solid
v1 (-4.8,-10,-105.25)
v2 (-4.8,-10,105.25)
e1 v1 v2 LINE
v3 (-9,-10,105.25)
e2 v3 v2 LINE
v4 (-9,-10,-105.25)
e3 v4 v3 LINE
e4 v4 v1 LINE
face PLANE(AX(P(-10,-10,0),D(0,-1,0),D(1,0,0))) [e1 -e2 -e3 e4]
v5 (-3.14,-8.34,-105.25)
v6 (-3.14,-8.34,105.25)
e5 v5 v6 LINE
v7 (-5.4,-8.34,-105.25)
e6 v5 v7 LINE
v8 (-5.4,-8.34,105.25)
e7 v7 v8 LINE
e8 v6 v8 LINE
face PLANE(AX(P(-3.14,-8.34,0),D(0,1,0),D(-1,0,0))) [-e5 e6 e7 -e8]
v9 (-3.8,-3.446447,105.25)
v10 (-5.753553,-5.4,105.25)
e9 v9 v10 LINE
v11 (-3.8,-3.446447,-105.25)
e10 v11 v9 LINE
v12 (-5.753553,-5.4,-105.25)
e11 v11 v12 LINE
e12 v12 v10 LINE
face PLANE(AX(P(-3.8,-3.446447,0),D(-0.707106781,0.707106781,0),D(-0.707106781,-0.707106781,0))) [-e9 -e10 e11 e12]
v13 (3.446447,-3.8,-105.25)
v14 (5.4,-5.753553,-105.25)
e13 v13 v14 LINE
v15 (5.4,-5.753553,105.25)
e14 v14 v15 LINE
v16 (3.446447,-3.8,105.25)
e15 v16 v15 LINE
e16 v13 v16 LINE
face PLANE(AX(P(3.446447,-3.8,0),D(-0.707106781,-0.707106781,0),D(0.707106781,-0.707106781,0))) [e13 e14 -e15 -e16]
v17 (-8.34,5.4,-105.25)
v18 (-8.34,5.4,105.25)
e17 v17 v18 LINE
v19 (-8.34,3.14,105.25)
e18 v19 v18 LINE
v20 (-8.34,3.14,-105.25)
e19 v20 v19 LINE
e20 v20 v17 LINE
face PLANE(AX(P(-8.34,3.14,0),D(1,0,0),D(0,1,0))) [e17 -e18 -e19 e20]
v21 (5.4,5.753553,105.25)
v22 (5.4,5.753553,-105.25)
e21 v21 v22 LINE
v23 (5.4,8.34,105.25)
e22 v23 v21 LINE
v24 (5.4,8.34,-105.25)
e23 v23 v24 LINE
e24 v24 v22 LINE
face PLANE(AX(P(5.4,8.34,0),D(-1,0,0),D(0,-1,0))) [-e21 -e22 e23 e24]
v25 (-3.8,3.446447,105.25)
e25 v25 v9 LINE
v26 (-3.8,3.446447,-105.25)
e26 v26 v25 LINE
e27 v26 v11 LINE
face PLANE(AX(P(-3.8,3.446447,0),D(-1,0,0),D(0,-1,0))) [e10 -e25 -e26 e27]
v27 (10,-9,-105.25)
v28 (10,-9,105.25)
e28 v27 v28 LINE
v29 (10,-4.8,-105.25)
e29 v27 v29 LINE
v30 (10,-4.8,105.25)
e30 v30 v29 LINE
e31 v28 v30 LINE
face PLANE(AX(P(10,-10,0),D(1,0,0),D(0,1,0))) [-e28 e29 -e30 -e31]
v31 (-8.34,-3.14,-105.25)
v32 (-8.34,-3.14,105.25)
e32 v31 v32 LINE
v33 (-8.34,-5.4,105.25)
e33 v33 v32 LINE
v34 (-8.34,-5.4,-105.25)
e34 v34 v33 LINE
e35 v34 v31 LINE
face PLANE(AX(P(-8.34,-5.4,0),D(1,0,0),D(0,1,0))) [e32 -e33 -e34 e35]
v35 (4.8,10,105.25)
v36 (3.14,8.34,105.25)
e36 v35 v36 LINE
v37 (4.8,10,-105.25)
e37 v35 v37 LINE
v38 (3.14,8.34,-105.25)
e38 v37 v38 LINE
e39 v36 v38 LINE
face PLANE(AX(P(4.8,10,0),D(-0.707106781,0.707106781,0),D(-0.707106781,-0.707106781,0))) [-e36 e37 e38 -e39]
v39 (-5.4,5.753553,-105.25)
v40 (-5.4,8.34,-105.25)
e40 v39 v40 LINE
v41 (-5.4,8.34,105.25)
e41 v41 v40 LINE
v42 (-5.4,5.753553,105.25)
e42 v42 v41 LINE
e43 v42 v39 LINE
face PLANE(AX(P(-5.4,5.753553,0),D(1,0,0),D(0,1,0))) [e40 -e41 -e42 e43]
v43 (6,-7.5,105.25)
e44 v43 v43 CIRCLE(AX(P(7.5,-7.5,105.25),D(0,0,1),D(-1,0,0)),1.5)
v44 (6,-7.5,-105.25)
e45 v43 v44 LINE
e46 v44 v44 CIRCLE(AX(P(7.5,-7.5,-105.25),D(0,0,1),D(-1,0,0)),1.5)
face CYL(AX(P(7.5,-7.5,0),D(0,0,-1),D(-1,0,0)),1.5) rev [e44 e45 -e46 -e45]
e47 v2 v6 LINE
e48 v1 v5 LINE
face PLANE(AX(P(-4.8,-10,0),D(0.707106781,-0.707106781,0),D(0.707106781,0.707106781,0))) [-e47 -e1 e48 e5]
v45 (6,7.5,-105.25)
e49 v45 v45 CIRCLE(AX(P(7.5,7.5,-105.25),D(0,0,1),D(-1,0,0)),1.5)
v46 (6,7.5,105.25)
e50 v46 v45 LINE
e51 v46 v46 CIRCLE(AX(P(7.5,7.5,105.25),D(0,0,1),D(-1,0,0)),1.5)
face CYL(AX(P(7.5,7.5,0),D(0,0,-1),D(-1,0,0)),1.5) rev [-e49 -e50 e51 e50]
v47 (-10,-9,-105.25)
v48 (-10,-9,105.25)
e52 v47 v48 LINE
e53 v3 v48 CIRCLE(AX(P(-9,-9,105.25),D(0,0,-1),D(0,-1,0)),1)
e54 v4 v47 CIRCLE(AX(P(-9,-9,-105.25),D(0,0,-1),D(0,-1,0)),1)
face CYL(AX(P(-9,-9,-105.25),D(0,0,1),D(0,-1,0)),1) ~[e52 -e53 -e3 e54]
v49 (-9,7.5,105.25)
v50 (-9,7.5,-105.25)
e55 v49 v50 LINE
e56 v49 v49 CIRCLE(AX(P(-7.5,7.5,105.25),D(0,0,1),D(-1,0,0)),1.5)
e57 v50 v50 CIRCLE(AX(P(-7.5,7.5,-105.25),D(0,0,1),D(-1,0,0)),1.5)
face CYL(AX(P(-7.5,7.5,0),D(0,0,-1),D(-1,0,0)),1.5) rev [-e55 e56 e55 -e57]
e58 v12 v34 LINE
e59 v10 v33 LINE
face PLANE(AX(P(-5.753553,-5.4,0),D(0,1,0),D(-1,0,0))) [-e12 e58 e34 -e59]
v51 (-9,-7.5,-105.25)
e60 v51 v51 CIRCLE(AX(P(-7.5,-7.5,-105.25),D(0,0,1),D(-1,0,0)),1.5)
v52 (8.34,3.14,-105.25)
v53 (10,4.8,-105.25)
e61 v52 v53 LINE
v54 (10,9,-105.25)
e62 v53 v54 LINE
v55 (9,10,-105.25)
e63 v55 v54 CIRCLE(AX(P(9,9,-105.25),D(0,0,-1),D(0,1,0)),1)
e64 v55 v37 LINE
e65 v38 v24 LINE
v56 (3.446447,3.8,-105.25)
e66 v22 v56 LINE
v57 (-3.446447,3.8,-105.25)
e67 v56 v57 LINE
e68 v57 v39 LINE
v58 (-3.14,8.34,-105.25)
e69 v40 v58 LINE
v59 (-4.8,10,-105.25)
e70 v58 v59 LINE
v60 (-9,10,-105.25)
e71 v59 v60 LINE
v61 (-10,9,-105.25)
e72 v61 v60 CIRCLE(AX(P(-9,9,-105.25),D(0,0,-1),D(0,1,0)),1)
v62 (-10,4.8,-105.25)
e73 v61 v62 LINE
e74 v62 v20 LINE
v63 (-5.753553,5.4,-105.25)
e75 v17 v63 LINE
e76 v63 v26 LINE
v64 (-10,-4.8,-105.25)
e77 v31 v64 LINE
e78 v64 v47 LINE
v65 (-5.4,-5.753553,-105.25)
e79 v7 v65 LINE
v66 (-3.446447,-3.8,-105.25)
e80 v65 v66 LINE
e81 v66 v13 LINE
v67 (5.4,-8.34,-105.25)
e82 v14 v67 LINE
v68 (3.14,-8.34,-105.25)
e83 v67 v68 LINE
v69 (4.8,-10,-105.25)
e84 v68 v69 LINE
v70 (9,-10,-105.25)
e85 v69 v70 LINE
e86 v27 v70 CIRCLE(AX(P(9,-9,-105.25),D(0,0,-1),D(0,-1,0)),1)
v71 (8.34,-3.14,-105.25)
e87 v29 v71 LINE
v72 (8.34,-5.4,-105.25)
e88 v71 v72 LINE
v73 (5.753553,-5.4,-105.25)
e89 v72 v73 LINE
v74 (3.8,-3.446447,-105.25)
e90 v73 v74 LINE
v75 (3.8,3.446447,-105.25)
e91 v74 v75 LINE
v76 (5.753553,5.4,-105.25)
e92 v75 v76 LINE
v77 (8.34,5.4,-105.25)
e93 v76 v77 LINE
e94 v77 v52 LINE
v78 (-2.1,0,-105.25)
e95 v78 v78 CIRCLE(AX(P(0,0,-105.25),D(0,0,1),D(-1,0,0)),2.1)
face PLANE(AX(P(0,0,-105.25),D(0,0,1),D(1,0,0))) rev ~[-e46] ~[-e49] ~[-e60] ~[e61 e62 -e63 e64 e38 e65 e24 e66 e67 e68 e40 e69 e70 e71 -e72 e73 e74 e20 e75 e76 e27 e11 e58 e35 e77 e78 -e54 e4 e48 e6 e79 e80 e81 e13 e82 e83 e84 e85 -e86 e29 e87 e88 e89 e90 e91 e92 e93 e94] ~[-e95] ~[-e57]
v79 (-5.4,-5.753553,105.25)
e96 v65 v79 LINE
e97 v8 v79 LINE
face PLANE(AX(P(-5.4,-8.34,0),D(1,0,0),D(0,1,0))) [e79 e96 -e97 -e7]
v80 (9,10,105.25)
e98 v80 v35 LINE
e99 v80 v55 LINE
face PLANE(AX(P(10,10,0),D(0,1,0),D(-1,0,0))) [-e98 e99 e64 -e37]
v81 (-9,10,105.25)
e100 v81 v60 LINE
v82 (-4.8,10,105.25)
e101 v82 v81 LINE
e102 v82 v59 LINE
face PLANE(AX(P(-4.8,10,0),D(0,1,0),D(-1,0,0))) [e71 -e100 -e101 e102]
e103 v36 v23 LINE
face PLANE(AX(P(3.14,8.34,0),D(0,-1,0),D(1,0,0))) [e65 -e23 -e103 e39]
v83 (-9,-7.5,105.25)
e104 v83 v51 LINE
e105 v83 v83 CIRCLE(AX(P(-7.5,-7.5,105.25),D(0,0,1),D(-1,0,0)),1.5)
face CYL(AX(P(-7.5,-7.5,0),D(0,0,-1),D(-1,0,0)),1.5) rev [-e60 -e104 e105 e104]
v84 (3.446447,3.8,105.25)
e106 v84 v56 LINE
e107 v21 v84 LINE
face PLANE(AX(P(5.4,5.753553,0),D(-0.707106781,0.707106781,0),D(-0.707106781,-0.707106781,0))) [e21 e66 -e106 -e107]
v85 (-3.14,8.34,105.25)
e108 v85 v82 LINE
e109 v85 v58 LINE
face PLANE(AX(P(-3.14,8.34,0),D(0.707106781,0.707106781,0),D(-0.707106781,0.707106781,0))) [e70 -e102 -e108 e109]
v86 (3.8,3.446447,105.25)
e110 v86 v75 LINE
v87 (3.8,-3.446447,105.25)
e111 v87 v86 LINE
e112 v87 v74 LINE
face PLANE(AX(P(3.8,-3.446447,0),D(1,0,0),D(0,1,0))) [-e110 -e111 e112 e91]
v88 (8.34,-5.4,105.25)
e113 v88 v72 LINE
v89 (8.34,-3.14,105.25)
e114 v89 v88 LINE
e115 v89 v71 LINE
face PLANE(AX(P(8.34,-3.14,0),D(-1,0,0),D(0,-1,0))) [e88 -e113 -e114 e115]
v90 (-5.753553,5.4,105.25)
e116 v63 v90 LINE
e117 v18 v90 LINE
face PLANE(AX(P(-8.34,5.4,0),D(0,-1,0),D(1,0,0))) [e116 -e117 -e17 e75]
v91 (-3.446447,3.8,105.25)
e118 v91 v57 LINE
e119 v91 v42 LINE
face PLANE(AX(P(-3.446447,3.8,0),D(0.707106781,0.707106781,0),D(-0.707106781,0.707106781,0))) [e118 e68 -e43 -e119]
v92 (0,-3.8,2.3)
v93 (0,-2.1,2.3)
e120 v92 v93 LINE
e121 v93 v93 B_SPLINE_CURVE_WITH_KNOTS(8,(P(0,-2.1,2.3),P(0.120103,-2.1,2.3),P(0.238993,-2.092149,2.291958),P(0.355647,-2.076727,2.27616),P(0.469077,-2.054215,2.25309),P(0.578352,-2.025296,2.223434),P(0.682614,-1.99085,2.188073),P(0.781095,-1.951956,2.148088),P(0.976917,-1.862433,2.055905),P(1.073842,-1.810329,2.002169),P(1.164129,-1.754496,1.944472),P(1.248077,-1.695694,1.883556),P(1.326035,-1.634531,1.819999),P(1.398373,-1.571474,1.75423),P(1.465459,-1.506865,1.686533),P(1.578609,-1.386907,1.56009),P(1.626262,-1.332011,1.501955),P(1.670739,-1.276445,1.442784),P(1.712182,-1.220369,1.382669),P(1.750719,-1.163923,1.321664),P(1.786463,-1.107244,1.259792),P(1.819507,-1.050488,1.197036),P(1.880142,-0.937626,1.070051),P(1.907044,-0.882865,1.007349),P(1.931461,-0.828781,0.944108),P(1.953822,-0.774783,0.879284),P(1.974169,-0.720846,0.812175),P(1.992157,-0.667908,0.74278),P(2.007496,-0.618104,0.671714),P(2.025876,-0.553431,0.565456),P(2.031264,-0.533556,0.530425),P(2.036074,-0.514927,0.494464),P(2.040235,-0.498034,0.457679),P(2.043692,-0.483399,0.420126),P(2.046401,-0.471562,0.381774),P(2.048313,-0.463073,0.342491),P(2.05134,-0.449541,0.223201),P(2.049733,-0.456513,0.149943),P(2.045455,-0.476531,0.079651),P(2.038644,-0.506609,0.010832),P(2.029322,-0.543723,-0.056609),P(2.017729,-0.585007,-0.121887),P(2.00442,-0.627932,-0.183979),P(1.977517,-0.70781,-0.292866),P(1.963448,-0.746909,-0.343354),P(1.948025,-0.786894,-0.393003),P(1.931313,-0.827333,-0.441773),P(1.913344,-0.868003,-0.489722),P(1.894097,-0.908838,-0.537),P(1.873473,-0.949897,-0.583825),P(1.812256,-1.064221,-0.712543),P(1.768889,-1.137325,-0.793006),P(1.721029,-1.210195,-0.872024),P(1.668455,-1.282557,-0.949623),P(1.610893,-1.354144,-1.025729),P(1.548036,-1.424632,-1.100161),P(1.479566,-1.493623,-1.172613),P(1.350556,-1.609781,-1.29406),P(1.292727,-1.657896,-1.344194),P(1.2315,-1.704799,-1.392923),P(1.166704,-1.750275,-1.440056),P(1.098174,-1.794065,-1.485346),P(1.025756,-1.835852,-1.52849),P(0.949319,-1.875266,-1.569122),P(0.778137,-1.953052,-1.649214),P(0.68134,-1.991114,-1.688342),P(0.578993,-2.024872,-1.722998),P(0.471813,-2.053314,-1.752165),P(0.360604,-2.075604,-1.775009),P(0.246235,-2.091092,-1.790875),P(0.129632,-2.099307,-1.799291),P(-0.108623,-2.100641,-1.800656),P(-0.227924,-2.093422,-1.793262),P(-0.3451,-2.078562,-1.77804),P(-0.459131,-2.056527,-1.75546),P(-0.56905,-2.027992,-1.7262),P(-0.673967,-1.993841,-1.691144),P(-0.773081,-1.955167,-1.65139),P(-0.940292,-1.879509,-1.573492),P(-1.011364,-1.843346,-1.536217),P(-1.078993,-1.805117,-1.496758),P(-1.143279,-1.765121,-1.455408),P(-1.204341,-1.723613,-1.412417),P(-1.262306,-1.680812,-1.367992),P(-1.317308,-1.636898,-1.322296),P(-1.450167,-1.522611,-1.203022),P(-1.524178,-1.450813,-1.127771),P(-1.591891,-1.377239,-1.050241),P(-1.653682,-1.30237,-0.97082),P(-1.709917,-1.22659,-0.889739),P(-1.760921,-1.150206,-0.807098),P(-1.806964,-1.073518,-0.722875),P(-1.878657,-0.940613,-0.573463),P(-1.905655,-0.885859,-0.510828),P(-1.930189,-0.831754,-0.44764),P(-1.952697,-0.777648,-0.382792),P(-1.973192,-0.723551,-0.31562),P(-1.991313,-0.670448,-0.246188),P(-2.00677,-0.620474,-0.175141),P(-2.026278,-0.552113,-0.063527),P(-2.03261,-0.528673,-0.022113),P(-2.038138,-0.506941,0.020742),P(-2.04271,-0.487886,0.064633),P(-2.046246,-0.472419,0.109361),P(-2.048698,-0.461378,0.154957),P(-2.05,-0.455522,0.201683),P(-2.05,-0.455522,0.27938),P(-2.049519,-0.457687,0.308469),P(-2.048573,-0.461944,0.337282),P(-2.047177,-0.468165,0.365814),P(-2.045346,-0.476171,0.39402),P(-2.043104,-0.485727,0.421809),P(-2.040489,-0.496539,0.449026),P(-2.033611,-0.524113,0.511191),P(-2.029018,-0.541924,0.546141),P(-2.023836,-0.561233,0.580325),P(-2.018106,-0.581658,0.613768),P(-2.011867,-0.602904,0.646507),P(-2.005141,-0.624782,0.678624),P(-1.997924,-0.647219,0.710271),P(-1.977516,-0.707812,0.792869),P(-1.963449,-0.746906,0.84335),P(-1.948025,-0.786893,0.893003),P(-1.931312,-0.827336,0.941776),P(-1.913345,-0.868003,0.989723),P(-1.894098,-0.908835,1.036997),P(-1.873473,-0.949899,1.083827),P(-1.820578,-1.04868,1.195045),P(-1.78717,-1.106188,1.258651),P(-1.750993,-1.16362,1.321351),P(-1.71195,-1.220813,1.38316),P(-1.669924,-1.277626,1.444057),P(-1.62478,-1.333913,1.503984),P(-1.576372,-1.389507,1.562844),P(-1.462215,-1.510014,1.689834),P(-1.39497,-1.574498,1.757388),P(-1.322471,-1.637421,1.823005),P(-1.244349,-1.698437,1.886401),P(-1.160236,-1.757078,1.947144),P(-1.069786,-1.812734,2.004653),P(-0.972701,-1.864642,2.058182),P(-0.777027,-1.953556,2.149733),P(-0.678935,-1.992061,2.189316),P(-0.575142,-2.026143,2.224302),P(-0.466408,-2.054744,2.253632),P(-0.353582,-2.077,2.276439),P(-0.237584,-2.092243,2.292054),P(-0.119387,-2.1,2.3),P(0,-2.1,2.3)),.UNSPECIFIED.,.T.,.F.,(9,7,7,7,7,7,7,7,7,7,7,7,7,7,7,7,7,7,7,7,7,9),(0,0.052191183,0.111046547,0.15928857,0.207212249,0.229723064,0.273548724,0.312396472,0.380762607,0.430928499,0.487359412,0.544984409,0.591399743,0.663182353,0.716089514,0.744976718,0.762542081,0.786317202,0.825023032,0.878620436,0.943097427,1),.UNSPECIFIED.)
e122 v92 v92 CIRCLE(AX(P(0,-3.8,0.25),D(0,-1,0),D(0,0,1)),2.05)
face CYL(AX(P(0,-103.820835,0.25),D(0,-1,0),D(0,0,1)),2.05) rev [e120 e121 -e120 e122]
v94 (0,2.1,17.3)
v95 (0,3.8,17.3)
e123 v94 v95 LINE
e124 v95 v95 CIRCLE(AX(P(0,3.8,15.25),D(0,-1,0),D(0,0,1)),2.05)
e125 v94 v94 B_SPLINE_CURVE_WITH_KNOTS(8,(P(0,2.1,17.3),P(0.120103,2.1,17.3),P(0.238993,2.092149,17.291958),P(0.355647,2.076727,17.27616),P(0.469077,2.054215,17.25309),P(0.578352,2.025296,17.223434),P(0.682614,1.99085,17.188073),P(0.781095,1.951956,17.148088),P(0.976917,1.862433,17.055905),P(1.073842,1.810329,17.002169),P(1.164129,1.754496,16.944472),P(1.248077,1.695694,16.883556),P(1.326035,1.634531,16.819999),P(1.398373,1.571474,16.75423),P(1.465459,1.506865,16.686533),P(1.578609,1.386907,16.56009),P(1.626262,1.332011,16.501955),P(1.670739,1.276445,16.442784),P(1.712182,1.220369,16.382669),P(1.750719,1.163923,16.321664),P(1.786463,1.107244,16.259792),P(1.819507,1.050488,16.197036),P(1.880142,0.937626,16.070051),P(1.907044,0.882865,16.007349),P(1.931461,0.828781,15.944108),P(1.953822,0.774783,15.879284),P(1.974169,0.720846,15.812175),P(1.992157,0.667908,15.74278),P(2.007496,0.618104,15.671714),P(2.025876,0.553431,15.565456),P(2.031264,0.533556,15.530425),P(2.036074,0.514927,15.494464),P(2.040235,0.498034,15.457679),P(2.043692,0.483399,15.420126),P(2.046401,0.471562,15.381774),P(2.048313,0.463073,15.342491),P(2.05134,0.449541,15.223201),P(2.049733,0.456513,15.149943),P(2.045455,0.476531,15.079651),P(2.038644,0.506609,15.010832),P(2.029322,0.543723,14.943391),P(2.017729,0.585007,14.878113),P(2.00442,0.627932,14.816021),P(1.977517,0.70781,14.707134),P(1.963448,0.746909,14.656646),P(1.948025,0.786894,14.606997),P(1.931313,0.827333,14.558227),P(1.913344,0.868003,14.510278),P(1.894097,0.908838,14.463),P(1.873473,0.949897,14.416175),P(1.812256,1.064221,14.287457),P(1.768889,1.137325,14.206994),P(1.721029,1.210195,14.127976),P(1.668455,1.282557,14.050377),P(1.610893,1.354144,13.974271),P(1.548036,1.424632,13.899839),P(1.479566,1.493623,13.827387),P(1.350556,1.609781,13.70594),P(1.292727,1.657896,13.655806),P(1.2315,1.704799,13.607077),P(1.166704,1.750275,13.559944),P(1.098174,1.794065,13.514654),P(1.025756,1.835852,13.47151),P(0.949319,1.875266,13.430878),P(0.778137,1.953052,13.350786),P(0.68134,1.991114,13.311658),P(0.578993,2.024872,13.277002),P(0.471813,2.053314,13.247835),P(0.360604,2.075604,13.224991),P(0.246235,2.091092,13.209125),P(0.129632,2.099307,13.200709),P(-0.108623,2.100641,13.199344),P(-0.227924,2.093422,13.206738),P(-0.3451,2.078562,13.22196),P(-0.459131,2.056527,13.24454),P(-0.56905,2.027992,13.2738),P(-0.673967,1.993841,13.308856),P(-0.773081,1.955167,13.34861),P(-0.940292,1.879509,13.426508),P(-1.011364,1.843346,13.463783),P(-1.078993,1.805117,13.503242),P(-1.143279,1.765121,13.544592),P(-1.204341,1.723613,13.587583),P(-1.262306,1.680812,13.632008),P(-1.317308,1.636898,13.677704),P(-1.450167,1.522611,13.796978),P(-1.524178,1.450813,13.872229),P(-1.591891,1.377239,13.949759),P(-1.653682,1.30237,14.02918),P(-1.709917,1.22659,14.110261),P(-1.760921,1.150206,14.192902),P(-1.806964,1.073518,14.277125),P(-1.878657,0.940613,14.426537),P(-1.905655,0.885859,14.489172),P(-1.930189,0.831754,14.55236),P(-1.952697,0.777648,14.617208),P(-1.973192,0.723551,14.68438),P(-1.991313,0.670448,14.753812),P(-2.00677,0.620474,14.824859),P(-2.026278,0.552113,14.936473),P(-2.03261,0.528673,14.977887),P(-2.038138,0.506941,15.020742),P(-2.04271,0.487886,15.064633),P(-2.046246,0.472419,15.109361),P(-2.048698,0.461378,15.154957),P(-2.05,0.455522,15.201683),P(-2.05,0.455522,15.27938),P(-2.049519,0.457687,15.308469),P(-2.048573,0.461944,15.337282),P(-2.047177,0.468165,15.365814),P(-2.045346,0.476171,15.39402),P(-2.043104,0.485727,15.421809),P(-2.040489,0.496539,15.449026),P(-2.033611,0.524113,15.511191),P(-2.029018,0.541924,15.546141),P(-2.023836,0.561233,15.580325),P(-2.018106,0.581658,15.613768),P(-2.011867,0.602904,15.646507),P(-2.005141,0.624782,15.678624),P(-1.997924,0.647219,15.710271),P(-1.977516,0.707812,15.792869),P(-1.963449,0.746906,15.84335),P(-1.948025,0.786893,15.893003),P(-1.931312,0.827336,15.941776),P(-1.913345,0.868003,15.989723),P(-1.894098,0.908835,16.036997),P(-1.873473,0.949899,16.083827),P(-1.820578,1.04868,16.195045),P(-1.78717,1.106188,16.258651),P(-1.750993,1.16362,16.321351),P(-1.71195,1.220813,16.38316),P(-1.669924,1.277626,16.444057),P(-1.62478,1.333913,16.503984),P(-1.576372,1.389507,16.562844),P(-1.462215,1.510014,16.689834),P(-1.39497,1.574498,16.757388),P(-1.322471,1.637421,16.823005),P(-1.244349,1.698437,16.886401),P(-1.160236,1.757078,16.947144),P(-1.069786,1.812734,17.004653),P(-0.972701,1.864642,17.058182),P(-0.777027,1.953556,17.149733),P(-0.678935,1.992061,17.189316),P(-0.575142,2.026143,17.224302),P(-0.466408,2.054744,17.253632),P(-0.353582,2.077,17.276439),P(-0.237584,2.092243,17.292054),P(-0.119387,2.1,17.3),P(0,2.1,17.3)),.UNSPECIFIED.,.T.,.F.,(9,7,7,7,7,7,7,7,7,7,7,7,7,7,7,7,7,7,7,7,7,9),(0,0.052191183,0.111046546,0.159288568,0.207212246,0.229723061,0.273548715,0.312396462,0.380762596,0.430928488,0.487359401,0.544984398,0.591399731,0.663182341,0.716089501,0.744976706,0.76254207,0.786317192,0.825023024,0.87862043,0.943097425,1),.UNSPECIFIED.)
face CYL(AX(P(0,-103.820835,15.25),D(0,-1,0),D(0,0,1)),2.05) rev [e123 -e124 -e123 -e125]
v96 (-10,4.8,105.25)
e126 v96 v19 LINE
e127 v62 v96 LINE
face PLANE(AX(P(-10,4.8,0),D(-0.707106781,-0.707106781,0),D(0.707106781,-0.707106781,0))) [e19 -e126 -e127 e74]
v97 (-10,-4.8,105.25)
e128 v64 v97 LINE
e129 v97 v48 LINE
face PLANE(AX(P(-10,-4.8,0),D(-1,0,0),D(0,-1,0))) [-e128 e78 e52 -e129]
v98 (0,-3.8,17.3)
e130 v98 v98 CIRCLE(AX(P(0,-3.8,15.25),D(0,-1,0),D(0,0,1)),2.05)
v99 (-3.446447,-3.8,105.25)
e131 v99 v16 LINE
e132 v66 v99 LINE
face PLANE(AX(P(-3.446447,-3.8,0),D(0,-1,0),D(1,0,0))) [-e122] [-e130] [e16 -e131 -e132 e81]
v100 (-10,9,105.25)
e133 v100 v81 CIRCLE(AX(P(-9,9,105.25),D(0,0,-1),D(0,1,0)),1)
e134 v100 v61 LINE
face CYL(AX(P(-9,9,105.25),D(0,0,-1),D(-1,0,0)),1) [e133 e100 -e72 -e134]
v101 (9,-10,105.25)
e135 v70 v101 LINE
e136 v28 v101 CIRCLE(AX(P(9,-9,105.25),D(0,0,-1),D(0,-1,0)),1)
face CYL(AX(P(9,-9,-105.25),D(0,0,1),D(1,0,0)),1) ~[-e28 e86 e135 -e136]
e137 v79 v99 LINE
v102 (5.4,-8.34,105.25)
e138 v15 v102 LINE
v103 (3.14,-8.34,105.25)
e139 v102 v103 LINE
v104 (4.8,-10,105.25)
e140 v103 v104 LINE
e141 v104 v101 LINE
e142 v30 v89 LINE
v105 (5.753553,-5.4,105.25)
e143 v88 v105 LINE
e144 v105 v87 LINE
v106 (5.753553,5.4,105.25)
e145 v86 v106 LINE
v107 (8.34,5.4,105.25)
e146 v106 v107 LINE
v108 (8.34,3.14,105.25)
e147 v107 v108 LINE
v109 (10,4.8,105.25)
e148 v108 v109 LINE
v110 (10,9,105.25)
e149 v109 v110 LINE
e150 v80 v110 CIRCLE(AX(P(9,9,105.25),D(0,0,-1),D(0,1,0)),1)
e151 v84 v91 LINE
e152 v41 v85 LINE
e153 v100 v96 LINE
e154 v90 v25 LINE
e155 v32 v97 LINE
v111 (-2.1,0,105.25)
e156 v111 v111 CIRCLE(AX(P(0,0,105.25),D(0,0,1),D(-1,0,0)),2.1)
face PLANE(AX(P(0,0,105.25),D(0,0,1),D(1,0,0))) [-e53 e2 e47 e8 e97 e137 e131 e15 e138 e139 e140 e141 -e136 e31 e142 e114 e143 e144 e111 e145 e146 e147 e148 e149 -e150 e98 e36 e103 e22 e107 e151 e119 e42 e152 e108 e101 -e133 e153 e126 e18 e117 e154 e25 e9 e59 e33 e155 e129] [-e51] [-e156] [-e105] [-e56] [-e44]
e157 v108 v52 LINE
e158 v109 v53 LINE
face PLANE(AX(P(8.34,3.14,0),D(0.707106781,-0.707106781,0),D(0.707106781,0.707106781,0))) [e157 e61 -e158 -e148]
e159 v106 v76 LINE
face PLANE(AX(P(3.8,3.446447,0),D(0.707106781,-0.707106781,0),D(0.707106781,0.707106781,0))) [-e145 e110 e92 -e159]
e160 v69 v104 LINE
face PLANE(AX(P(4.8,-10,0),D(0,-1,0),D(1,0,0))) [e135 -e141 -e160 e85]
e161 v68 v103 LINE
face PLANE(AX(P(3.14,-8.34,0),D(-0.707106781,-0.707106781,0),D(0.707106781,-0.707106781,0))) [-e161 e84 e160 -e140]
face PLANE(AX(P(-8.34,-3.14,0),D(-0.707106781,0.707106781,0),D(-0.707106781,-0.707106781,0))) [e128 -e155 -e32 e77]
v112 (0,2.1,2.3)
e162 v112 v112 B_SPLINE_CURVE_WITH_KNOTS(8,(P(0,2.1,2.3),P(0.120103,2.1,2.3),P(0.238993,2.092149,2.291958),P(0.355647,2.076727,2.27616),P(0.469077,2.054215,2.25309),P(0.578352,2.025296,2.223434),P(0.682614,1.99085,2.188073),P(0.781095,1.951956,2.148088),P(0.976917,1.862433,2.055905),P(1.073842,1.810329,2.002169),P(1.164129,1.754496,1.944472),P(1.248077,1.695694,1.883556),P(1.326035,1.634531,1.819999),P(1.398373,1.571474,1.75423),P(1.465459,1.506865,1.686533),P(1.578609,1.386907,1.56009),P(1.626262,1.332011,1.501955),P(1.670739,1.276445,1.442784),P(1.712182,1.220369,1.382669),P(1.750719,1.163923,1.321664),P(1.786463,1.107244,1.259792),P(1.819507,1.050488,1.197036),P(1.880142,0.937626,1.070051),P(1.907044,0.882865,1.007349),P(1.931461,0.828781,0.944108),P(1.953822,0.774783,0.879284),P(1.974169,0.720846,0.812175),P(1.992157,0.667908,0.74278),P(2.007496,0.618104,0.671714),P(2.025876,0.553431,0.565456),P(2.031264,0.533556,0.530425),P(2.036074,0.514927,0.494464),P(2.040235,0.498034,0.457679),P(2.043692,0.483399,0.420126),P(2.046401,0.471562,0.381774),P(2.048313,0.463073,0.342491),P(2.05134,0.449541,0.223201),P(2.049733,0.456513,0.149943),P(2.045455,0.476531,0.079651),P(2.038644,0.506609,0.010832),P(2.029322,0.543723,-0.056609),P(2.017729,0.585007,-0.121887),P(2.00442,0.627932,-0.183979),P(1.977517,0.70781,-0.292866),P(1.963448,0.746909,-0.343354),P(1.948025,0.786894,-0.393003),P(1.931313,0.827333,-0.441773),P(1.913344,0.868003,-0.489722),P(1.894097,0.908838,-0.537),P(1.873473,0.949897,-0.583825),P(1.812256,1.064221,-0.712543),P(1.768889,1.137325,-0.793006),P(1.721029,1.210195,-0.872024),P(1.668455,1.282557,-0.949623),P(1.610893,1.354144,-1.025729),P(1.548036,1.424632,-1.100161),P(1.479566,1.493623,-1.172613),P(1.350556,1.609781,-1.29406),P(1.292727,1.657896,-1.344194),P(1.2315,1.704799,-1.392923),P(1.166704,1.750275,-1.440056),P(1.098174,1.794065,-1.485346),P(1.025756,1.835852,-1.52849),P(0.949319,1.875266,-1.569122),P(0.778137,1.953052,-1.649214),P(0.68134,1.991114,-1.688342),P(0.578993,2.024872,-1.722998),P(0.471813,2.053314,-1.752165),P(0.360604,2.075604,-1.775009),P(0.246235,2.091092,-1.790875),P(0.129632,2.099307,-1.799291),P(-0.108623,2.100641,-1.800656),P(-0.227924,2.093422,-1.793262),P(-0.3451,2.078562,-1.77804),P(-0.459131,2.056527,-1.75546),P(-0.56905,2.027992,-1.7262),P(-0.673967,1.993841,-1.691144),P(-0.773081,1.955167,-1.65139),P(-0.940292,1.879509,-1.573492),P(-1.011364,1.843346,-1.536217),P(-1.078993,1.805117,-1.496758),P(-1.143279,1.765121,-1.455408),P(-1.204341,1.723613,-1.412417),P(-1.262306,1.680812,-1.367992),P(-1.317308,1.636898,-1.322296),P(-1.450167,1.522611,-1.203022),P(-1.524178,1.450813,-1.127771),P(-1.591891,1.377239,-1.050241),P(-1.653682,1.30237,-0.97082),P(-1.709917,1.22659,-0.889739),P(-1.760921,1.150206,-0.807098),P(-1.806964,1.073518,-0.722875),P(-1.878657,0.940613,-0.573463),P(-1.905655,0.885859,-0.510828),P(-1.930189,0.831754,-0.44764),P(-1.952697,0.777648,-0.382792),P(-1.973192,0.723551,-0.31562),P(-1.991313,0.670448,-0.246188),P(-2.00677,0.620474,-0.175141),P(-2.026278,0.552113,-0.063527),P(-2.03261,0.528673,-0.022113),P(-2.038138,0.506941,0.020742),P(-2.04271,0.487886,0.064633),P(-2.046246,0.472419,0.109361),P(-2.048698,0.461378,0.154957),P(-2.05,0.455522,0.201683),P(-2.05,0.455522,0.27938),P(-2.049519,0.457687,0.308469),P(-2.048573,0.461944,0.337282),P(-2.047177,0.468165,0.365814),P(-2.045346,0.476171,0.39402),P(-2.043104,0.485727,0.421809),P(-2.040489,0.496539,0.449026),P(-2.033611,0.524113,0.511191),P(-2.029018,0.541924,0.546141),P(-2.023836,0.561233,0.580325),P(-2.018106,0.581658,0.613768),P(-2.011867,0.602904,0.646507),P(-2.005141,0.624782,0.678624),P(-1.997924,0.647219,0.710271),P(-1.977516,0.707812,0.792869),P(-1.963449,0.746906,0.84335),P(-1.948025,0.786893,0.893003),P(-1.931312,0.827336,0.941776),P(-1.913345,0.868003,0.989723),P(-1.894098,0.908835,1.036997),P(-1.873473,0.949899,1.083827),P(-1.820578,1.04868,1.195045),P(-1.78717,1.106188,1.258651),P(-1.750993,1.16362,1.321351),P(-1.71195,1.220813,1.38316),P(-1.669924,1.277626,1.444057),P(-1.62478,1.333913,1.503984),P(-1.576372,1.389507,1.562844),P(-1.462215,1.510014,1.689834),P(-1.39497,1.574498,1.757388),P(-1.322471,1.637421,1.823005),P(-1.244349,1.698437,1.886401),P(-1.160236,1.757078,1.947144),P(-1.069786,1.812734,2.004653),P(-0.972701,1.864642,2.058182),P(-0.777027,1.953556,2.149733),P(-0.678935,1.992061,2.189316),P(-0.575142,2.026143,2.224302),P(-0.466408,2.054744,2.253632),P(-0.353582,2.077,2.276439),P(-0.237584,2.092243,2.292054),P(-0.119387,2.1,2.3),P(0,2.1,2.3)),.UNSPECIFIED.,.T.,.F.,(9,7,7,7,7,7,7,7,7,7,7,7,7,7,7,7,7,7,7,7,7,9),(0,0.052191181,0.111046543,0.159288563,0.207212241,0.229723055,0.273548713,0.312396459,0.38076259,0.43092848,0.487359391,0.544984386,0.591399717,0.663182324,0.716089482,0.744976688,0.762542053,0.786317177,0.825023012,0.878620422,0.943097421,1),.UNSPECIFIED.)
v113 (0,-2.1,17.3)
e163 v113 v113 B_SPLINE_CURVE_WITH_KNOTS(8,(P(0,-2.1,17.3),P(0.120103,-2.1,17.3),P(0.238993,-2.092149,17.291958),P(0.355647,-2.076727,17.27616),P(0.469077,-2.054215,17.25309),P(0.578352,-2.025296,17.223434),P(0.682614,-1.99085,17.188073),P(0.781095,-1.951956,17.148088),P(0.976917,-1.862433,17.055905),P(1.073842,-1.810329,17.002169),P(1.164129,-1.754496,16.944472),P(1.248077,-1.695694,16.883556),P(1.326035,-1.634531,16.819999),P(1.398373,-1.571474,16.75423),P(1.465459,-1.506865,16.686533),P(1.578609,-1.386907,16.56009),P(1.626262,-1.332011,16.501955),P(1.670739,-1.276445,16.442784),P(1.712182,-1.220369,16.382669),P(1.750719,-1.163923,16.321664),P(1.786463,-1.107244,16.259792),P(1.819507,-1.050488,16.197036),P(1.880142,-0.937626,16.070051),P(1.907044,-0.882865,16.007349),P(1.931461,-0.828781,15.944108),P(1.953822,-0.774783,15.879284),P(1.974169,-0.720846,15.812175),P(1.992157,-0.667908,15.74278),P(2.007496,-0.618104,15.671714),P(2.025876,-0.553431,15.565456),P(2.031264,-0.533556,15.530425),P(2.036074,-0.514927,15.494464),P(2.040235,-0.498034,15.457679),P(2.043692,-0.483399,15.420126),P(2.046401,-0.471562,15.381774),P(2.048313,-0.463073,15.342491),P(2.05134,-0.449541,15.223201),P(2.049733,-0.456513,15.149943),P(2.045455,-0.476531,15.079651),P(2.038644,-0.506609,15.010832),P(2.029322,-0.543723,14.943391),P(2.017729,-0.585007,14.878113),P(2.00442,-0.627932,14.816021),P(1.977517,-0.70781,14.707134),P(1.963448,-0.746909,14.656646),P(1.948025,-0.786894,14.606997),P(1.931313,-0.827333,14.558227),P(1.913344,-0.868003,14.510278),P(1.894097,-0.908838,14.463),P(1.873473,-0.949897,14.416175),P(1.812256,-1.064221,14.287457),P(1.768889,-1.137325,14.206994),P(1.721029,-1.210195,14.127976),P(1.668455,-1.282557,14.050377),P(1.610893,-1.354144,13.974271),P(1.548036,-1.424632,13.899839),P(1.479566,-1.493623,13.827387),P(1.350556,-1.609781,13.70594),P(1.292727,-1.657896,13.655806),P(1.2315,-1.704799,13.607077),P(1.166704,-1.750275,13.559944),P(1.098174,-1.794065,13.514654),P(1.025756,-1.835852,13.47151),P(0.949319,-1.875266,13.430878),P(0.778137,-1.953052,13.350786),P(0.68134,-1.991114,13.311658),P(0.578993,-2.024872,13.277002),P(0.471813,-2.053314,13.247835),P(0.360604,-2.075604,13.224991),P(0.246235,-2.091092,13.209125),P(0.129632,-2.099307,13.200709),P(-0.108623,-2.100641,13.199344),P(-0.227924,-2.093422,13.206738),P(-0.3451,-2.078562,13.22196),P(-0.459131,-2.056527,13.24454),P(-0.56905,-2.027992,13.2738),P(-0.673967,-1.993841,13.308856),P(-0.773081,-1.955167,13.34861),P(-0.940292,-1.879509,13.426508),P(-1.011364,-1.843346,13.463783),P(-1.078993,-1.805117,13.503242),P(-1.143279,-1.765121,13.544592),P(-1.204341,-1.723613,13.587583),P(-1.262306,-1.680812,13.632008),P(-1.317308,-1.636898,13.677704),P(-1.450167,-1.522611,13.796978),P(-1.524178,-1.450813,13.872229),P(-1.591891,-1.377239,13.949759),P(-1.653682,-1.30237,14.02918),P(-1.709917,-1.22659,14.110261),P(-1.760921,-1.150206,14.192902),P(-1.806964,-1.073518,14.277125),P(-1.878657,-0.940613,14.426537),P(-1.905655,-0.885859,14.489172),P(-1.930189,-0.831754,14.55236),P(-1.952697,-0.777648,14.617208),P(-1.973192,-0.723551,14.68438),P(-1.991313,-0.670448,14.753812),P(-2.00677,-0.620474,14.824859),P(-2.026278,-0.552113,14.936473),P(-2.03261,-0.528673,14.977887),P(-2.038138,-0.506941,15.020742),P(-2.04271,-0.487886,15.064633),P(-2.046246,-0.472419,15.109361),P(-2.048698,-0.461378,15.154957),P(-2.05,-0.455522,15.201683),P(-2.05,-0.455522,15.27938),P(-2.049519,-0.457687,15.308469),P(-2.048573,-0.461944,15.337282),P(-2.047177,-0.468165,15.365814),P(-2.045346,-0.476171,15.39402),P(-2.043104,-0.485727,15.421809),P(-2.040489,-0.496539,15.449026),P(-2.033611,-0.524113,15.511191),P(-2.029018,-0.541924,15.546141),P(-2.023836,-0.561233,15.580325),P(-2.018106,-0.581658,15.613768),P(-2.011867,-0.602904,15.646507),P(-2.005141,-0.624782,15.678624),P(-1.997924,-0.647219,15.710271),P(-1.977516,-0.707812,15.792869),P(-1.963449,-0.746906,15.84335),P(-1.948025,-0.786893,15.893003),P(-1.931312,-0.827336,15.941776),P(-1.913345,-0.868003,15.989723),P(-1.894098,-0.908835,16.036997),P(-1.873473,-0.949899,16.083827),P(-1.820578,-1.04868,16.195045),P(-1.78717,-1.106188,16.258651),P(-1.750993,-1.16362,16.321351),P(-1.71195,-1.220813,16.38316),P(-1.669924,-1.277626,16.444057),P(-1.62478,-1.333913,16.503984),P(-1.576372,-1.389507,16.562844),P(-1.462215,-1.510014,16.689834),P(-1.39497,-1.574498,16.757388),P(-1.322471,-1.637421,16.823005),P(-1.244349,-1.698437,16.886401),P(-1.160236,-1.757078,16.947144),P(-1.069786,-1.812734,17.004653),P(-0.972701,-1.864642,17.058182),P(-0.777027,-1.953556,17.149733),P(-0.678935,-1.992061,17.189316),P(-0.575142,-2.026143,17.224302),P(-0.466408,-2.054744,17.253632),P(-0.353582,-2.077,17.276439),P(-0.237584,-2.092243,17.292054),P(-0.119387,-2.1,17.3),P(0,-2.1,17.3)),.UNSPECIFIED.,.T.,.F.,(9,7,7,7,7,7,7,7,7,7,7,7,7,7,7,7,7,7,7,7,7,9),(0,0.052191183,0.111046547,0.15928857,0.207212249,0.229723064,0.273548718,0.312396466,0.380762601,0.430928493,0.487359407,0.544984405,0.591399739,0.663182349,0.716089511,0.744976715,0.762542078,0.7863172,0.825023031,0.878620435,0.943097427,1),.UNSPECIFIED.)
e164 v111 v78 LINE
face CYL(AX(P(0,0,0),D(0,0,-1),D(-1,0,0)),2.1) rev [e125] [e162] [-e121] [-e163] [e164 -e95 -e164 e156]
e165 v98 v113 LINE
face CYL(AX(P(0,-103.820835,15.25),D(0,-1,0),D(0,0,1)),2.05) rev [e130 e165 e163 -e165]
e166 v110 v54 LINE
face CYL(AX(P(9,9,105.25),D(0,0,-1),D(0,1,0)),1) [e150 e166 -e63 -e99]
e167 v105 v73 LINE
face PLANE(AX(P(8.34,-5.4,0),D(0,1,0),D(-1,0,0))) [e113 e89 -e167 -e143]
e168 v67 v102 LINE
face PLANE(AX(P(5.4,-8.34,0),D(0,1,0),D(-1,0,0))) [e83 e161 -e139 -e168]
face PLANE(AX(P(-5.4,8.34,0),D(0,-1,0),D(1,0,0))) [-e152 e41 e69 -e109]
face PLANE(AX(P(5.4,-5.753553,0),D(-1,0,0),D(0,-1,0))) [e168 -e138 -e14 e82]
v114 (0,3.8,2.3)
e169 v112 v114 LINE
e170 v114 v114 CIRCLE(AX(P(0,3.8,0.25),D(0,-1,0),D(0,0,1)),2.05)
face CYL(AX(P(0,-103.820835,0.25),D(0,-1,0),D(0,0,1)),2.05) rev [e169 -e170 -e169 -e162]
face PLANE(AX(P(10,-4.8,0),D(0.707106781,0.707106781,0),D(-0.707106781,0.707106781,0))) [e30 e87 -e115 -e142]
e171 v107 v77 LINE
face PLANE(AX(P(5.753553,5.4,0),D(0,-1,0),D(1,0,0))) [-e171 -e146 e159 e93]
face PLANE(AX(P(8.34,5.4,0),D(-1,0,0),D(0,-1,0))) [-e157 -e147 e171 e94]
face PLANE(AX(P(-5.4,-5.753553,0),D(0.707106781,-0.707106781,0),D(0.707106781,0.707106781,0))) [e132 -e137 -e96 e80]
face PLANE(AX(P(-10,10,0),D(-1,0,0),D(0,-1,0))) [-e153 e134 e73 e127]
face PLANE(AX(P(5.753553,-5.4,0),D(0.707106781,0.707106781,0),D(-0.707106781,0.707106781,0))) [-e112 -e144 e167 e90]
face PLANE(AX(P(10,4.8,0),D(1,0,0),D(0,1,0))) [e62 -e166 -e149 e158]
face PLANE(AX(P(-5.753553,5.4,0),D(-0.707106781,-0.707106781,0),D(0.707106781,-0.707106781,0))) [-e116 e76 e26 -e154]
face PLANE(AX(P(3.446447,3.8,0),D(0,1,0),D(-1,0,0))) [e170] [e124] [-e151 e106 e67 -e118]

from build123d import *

# Parameters (mm, degrees)
SKETCH_1_R               = 1.5
SKETCH_1_R_2             = 2.1
EXTRUDE_1_DEPTH          = 105.25
FILLET_1_R               = 1
CUT_EXTRUDE_1_DEPTH      = 107.620835206
CUT_EXTRUDE_1_DEPTH_BACK = 107.620835206
SKETCH_2_R               = 2.05


with BuildPart() as part:
    # 草图1 → 凸台-拉伸1 (new, symmetric)
    with BuildSketch(Plane.XY):
        Polygon((-10, 10), (-10, 4.8), (-8.34, 3.14), (-8.34, 5.4), (-5.753553391, 5.4), (-3.8, 3.446446609), (-3.8, -3.446446609), (-5.753553391, -5.4), (-8.34, -5.4), (-8.34, -3.14), (-10, -4.8), (-10, -10), (-4.8, -10), (-3.14, -8.34), (-5.4, -8.34), (-5.4, -5.753553391), (-3.446446609, -3.8), (3.446446609, -3.8), (5.4, -5.753553391), (5.4, -8.34), (3.14, -8.34), (4.8, -10), (10, -10), (10, -4.8), (8.34, -3.14), (8.34, -5.4), (5.753553391, -5.4), (3.8, -3.446446609), (3.8, 3.446446609), (5.753553391, 5.4), (8.34, 5.4), (8.34, 3.14), (10, 4.8), (10, 10), (4.8, 10), (3.14, 8.34), (5.4, 8.34), (5.4, 5.753553391), (3.446446609, 3.8), (-3.446446609, 3.8), (-5.4, 5.753553391), (-5.4, 8.34), (-3.14, 8.34), (-4.8, 10), align=None)
        with Locations(Location((-7.5, 7.5, 0), (0, 0, 180))):
            Circle(SKETCH_1_R, mode=Mode.SUBTRACT)
        with Locations(Location((0, 0, 0), (0, 0, 180))):
            Circle(SKETCH_1_R_2, mode=Mode.SUBTRACT)
        with Locations(Location((-7.5, -7.5, 0), (0, 0, 180))):
            Circle(SKETCH_1_R, mode=Mode.SUBTRACT)
        with Locations(Location((7.5, -7.5, 0), (0, 0, 180))):
            Circle(SKETCH_1_R, mode=Mode.SUBTRACT)
        with Locations(Location((7.5, 7.5, 0), (0, 0, 180))):
            Circle(SKETCH_1_R, mode=Mode.SUBTRACT)
    extrude(amount=EXTRUDE_1_DEPTH, both=True)

    # 圆角1
    fillet_1_edges = [part.edges().sort_by_distance(p)[0] for p in [
        (10, 10, 0),
        (10, -10, 0),
        (-10, -10, 0),
        (-10, 10, 0),
    ]]
    fillet(fillet_1_edges, radius=FILLET_1_R)

    # 草图2 → 切除-拉伸1 (cut, two sides: drawn at the far end of the back side and taken through both)
    with BuildSketch(Plane(origin=(0, 3.8, 0), x_dir=(1, 0, 0), z_dir=(0, 1, 0)).offset(-CUT_EXTRUDE_1_DEPTH_BACK)):
        with Locations(Location((0, -15.25, 0), (0, 0, 270))):
            Circle(SKETCH_2_R)
        with Locations(Location((0, -0.25, 0), (0, 0, 270))):
            Circle(SKETCH_2_R)
    extrude(amount=CUT_EXTRUDE_1_DEPTH + CUT_EXTRUDE_1_DEPTH_BACK, mode=Mode.SUBTRACT)


solid = part.part
